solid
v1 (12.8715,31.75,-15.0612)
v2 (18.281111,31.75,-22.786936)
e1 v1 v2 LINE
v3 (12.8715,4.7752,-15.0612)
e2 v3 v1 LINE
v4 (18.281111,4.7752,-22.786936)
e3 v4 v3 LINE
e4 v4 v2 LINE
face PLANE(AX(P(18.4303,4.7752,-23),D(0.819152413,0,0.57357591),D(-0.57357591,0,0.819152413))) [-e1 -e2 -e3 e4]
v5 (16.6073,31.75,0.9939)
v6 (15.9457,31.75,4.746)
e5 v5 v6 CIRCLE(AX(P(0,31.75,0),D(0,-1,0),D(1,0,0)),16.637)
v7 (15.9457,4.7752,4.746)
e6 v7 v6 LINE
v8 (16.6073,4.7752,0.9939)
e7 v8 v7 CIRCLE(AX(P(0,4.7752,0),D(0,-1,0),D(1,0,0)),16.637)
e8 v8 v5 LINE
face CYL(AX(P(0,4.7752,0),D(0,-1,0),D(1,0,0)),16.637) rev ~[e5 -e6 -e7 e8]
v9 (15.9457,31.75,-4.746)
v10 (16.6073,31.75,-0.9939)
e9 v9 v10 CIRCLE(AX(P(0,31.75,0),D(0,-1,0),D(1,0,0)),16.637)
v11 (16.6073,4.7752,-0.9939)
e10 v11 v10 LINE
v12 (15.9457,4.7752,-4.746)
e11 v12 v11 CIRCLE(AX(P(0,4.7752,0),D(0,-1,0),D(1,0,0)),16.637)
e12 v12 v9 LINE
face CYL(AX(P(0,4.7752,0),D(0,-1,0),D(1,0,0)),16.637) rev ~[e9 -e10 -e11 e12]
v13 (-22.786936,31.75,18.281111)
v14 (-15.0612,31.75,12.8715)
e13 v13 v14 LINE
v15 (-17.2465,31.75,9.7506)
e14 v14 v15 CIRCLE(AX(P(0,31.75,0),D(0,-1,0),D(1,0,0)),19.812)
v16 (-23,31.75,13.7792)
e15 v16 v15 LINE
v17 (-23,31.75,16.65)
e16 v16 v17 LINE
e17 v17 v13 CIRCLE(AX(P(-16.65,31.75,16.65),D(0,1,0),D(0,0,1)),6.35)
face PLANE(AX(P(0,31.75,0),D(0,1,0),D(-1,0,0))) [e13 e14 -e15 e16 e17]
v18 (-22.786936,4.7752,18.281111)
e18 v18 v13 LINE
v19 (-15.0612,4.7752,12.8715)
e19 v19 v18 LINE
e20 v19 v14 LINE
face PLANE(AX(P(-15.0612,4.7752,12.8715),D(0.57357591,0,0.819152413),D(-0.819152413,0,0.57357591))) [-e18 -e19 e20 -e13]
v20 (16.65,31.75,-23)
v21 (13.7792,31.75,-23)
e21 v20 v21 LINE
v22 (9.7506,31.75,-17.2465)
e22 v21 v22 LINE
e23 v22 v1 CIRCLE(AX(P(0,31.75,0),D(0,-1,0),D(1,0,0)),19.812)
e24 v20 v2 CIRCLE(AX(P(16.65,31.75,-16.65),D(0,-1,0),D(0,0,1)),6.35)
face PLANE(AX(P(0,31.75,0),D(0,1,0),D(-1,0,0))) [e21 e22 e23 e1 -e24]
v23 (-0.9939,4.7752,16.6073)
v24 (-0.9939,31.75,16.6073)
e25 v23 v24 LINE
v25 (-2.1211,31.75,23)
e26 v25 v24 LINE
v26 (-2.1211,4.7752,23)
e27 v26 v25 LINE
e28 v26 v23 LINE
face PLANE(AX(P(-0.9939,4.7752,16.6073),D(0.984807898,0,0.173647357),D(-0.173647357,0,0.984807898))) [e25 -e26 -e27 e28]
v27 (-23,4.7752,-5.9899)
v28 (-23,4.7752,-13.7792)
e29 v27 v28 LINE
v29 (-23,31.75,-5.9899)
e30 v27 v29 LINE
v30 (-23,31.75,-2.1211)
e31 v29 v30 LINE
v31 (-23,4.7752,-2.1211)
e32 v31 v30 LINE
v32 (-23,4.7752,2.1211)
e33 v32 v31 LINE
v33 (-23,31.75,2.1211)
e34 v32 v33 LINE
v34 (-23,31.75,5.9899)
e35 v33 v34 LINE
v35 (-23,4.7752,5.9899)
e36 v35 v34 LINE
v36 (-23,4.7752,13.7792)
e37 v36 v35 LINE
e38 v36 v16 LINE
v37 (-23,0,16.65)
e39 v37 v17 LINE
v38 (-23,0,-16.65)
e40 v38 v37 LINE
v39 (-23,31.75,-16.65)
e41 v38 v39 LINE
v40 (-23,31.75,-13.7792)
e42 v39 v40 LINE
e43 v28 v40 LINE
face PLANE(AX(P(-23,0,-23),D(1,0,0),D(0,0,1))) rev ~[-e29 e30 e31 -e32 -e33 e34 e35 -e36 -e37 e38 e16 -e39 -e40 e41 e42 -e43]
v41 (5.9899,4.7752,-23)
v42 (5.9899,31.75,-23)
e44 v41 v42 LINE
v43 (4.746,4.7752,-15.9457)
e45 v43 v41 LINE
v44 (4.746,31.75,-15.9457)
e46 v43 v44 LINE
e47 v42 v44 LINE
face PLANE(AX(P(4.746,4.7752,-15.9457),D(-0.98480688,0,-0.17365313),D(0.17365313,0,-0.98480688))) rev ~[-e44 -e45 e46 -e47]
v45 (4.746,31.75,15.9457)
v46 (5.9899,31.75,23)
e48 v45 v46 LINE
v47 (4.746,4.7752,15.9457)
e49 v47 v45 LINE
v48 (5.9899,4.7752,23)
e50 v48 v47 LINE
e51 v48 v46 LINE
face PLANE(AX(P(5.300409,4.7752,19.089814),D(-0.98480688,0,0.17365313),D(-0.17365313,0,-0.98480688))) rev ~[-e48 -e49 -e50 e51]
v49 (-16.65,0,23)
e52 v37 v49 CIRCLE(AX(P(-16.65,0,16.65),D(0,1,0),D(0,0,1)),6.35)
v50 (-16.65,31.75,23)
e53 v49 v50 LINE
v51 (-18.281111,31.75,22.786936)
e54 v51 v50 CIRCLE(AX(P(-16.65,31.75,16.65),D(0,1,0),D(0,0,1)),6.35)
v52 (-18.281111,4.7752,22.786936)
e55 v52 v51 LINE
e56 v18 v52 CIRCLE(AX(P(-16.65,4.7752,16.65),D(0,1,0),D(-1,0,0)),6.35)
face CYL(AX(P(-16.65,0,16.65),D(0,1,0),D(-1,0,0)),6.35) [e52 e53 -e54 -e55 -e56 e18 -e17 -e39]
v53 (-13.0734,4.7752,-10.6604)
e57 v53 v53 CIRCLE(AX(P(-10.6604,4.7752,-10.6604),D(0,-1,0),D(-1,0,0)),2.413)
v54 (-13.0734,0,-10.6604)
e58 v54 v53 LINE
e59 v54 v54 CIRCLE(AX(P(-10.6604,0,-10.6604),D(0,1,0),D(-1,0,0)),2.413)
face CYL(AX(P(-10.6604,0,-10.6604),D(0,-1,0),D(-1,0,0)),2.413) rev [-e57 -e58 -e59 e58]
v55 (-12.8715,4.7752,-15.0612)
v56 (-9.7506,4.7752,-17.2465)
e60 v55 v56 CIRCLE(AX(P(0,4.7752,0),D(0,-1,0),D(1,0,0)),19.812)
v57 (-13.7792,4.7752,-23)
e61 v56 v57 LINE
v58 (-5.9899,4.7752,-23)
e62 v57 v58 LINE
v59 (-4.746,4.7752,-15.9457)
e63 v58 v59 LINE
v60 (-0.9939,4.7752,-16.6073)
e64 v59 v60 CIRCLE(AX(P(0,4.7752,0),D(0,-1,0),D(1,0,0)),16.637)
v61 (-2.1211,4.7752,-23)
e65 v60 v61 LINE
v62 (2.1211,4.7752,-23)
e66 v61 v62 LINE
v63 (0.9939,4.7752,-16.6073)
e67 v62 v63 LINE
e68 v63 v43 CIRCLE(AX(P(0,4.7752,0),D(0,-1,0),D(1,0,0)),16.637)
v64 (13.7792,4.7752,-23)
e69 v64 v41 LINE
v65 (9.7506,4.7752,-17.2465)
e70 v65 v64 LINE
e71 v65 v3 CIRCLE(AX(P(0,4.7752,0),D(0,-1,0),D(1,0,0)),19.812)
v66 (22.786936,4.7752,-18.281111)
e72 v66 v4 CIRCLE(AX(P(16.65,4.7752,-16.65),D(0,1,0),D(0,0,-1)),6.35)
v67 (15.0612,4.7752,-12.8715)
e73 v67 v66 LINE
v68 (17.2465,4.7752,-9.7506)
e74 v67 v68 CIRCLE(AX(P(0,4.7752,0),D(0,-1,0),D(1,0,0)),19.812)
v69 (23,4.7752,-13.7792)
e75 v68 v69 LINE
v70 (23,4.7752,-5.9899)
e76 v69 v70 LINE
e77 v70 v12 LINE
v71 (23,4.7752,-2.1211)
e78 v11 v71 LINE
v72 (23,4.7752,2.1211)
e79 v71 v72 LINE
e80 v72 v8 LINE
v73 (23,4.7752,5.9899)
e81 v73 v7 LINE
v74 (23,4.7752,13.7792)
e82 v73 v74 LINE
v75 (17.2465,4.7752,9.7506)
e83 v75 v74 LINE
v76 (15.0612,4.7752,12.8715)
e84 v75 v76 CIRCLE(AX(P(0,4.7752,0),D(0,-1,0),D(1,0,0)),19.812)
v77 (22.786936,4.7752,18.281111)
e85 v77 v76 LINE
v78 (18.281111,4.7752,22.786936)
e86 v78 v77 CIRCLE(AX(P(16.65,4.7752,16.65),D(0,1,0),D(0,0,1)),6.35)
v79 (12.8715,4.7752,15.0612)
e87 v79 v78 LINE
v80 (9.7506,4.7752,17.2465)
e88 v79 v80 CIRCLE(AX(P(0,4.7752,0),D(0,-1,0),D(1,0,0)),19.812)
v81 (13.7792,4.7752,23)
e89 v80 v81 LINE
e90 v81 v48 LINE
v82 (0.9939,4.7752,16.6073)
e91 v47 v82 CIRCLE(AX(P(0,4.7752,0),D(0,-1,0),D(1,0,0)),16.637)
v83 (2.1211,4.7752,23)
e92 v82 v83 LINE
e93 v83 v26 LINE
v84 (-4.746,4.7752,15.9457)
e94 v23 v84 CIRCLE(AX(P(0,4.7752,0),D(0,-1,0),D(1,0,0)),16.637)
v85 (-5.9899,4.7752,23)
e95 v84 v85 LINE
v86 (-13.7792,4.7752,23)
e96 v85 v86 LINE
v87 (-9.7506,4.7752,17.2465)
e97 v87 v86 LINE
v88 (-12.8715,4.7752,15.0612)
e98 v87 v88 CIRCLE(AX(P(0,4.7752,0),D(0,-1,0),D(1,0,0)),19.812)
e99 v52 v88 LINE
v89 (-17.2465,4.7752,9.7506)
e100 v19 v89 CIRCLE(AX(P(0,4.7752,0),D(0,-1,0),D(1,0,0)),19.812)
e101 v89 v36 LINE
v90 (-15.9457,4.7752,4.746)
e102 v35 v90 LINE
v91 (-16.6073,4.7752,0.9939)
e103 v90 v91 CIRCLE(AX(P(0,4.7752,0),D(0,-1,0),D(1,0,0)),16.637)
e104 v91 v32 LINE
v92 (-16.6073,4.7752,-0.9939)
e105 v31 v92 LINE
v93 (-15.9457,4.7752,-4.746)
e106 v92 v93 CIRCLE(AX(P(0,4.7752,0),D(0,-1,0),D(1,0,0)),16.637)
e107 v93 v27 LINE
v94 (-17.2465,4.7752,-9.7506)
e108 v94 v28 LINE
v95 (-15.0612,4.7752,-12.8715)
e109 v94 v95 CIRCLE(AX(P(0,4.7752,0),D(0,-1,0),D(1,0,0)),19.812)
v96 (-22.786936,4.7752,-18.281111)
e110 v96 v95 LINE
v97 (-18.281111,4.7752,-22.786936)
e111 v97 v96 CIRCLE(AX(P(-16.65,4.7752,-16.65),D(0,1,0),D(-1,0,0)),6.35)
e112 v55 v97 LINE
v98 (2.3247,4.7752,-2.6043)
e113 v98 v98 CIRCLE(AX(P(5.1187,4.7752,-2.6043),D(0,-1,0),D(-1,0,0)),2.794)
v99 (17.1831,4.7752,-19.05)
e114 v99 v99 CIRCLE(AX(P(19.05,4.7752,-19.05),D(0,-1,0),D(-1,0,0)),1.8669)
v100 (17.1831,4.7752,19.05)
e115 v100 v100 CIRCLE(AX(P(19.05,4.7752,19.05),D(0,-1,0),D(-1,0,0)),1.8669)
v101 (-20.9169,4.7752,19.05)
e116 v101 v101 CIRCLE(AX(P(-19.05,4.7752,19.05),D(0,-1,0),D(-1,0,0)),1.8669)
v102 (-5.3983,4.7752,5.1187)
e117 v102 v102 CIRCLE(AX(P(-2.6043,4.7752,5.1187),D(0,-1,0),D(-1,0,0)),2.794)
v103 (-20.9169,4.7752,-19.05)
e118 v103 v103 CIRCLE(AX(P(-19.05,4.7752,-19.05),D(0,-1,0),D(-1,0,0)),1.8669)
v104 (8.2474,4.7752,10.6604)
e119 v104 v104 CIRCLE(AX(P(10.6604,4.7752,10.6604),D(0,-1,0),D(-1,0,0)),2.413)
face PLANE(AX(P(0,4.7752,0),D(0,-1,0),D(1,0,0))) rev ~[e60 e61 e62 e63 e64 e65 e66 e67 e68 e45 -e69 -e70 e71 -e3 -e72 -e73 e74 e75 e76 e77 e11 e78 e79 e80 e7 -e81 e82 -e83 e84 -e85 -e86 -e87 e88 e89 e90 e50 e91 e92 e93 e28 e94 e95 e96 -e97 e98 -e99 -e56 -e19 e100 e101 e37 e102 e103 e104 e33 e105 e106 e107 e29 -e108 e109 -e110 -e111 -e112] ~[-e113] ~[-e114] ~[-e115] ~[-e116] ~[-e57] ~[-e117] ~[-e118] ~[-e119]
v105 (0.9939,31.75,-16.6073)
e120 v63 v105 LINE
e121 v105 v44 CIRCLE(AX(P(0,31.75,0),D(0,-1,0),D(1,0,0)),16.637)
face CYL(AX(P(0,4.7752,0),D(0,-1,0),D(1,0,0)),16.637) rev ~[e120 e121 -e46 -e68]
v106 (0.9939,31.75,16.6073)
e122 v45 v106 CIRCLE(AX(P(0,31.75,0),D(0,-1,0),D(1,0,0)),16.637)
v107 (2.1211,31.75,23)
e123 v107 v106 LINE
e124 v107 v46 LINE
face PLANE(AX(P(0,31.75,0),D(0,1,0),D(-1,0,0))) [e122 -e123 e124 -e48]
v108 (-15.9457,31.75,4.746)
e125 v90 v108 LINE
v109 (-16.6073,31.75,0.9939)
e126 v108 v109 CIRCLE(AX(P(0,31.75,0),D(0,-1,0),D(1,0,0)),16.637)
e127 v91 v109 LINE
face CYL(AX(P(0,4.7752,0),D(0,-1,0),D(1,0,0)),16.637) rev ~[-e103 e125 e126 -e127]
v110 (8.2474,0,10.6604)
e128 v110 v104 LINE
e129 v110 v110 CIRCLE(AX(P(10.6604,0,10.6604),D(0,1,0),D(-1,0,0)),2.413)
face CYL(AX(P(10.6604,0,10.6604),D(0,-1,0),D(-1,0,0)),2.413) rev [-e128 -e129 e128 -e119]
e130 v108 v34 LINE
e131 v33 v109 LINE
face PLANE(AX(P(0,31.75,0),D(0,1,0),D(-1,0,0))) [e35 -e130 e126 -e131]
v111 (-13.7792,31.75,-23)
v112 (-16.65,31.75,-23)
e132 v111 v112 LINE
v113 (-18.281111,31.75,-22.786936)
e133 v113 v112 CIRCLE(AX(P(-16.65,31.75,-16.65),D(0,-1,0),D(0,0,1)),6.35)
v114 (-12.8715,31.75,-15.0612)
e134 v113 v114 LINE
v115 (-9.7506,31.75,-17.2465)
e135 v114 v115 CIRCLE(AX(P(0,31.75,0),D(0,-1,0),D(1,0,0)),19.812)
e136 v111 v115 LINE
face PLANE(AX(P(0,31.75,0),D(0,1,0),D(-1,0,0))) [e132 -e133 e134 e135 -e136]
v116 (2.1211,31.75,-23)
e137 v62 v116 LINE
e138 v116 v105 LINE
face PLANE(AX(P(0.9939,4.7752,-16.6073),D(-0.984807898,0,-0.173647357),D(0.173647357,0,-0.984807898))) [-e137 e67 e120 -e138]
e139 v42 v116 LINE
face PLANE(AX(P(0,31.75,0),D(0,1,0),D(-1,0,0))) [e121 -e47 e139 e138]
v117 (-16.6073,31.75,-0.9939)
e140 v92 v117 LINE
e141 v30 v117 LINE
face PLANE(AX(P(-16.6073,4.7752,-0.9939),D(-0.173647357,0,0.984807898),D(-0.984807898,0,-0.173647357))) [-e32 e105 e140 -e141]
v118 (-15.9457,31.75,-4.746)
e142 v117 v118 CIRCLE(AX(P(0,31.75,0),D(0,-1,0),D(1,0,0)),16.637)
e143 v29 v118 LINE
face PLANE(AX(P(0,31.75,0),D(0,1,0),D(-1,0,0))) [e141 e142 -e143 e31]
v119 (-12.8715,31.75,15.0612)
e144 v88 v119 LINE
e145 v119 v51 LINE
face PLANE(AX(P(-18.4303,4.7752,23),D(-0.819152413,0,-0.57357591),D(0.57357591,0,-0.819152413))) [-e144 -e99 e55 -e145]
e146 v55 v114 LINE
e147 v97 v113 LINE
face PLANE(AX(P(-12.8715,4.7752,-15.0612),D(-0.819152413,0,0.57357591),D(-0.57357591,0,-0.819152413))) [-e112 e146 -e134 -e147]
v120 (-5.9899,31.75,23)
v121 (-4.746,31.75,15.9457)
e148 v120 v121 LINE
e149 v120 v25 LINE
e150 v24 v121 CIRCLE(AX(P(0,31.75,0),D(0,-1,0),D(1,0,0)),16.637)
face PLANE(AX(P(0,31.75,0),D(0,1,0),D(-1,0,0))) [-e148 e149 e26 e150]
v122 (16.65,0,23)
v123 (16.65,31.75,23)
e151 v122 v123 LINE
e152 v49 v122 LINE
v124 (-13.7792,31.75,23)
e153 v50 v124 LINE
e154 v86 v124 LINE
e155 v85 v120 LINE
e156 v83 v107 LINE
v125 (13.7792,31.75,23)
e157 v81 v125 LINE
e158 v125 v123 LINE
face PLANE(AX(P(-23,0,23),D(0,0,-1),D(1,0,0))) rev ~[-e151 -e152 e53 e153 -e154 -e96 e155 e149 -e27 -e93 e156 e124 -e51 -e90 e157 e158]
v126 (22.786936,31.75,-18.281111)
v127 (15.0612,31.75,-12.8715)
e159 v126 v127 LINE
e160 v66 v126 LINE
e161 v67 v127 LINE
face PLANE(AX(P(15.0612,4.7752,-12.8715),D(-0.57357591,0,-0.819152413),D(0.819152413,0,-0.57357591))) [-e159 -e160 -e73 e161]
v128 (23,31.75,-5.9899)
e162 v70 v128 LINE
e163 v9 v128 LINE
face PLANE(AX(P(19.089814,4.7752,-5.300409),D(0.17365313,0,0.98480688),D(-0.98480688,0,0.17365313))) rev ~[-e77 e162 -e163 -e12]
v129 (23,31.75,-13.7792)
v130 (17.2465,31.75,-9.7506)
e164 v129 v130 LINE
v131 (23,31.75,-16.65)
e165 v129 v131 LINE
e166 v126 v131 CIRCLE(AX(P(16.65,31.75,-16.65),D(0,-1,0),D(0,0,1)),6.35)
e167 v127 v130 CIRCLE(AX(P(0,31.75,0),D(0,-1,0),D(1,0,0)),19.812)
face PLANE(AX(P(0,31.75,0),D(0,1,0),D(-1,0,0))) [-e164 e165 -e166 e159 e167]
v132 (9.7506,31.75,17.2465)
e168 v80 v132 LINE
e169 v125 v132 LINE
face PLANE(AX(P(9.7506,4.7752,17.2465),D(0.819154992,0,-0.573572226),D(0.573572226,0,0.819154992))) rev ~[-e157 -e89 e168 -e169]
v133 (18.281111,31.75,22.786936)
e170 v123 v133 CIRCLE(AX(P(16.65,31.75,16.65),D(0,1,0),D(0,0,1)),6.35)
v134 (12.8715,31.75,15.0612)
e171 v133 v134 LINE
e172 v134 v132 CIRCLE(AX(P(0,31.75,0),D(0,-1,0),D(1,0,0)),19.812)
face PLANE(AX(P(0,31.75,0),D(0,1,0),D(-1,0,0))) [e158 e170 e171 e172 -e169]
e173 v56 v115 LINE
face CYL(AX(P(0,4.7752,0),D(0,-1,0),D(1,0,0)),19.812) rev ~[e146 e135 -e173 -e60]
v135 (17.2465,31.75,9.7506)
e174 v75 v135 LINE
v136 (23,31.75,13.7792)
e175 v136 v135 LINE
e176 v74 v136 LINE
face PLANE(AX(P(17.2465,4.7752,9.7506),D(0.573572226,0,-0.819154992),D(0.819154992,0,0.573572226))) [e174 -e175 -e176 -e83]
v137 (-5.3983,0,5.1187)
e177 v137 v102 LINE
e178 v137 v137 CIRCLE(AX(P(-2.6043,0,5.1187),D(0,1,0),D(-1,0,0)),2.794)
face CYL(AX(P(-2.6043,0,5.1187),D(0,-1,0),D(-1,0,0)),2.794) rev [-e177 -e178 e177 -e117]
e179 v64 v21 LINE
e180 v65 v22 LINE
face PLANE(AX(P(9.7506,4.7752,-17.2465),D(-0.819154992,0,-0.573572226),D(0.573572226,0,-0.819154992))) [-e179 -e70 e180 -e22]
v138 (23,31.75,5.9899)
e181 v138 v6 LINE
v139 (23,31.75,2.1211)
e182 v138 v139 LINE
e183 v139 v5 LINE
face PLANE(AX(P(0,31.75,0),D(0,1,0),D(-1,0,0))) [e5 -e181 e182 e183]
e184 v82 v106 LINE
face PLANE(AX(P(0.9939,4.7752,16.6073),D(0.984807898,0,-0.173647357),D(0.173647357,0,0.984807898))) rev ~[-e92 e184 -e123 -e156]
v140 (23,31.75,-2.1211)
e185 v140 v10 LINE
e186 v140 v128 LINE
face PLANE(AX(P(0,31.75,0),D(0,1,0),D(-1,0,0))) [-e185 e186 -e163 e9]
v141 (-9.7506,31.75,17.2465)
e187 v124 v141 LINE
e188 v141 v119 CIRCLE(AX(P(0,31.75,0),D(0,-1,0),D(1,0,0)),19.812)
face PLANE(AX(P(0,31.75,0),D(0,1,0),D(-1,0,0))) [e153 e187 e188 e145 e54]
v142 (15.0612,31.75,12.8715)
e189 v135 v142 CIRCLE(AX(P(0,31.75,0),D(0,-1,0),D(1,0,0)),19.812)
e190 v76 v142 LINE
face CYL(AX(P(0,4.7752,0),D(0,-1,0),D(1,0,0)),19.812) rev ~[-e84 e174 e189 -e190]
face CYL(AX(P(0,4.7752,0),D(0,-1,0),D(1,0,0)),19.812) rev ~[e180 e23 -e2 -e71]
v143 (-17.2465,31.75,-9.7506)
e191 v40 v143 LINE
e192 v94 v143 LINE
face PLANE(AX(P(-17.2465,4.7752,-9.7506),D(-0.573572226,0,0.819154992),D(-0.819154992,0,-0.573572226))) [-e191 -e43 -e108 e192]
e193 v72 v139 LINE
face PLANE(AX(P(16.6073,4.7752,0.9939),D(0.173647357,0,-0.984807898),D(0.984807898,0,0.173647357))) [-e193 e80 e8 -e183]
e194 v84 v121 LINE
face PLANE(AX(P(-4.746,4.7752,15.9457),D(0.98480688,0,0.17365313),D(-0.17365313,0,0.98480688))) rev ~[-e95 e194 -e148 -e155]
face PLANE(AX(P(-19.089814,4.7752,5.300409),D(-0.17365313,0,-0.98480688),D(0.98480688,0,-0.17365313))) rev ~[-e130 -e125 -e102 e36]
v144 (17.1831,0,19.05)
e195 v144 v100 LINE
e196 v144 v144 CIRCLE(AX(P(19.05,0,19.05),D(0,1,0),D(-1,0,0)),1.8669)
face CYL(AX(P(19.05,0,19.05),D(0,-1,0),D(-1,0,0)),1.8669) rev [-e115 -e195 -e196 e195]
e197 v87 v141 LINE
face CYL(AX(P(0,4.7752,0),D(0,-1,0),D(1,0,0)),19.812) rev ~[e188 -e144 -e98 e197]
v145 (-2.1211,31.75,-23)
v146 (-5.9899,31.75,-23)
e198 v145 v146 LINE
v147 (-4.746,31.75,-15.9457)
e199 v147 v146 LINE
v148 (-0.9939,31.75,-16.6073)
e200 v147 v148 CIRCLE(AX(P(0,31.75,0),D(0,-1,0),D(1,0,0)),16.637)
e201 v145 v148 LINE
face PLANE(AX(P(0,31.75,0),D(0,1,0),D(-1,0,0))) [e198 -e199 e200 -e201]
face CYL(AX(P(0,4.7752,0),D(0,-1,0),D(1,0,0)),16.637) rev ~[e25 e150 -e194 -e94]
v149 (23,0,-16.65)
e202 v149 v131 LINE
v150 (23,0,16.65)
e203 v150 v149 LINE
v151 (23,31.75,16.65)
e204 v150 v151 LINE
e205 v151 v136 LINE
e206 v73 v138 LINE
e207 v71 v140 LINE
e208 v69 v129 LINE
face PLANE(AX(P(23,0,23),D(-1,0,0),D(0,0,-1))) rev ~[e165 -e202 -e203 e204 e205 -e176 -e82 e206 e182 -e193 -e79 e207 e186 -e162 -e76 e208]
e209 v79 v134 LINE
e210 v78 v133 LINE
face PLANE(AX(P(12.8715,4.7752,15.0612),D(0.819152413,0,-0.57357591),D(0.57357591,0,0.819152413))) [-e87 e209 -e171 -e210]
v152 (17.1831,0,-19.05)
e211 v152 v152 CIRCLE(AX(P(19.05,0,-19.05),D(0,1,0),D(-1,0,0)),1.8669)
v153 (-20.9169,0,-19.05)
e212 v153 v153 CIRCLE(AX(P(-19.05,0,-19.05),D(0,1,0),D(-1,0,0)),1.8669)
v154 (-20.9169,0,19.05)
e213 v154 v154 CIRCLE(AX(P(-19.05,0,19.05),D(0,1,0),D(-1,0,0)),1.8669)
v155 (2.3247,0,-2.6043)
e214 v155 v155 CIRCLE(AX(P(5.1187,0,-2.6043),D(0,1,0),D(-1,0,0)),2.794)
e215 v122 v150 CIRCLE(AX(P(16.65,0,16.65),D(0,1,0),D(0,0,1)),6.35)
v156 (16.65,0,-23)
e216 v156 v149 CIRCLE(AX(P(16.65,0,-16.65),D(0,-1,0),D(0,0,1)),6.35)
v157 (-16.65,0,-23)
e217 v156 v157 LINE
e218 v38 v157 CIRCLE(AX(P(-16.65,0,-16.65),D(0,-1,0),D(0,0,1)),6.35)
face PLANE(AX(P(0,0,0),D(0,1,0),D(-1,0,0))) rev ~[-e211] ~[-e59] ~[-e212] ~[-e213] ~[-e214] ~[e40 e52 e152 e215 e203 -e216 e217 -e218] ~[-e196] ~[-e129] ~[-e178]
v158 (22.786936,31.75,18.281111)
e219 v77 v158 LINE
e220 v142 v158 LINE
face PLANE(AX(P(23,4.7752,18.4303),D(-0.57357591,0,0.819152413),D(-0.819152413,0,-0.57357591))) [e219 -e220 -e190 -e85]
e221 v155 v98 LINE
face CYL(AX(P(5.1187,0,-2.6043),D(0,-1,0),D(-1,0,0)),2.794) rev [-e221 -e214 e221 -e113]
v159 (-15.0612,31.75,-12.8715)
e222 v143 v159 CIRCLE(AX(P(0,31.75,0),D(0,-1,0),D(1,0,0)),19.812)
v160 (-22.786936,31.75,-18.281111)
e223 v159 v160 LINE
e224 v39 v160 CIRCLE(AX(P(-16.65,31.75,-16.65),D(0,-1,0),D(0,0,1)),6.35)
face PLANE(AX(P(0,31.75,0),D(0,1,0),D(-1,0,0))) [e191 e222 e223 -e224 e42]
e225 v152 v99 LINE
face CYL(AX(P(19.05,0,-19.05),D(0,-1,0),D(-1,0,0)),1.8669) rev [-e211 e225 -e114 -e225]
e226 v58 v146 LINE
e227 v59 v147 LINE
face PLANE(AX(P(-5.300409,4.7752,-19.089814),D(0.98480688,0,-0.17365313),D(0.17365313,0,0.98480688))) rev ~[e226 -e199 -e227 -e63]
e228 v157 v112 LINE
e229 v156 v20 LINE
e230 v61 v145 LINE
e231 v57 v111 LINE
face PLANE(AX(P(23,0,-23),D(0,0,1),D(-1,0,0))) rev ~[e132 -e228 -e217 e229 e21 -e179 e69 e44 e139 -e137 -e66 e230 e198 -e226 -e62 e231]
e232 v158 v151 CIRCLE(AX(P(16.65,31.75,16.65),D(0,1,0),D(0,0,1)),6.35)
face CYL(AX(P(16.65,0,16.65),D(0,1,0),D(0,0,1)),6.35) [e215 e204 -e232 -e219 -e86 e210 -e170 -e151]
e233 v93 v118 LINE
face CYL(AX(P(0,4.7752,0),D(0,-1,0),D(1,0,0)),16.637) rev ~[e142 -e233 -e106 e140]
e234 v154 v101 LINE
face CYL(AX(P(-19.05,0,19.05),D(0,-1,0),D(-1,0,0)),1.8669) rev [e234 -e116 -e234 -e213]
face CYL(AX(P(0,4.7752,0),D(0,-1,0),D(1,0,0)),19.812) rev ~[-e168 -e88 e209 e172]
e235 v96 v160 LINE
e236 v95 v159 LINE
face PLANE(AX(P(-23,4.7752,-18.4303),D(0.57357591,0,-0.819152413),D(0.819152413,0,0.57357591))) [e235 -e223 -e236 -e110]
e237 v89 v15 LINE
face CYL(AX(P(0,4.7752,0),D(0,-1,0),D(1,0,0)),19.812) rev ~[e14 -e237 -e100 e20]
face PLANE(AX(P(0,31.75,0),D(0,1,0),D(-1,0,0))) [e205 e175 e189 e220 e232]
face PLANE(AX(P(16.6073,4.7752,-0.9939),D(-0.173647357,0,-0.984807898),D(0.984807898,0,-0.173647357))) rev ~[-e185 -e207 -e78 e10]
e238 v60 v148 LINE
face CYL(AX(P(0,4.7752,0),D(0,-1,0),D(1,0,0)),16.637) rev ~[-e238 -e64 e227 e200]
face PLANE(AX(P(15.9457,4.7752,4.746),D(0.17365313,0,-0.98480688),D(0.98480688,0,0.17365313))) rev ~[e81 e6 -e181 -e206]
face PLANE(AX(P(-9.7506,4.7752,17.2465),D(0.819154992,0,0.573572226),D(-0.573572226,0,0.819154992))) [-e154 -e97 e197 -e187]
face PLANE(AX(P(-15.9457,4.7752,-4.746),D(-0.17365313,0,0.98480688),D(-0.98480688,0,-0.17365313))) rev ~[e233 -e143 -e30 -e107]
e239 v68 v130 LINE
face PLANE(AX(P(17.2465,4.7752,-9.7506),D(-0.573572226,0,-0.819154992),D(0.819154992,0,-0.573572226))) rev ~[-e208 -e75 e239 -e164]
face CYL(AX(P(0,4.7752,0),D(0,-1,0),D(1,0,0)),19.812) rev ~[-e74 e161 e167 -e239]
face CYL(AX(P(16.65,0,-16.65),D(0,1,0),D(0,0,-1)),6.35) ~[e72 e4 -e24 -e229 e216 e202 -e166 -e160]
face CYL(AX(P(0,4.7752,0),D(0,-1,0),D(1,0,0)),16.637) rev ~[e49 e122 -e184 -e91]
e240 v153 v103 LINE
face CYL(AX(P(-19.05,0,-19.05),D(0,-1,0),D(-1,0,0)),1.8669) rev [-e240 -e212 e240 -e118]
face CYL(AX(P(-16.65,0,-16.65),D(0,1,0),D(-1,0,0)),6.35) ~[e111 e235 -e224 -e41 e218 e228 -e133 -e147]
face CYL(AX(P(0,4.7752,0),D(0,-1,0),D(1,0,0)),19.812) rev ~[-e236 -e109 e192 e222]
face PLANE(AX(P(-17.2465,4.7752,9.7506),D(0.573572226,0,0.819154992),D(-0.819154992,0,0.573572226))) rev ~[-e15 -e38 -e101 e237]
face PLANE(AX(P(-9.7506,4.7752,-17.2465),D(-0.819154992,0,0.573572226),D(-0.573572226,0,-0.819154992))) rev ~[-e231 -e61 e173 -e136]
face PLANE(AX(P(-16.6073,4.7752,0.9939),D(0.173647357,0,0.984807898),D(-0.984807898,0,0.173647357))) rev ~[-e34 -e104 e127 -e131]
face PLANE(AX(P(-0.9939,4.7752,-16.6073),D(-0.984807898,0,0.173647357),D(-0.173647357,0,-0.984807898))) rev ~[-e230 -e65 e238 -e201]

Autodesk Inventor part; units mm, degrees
ref_plane "YZ Plane" through (0, 0, 0) normal (1, 0, 0) x (0, 1, 0)
ref_plane "XZ Plane" through (0, 0, 0) normal (0, 1, 0) x (-1, 0, 0)
sketch "Sketch2" plane through (0, 0, 0) normal (0, 1, 0) x (-1, 0, 0)
  line L0 (23, 23) -> (-23, 23)
  line L1 (-23, 23) -> (-23, -23)
  line L2 (-23, -23) -> (23, -23)
  line L3 (23, -23) -> (23, 23)
  line L4 (23, 23) -> (-23, -23) construction
  line L5 (-23, 23) -> (23, -23) construction
  circle A0 centre (19.05, -19.05) radius 1.8669
  line L6 (0, -32.2) -> (0, 32.2) construction
  line L7 (-32.2, 0) -> (32.2, 0) construction
  circle A1 centre (-19.05, -19.05) radius 1.8669
  circle A2 centre (19.05, 19.05) radius 1.8669
  circle A3 centre (-19.05, 19.05) radius 1.8669
  circle A4 centre (-5.1187, -2.6043) radius 2.794
  circle A5 centre (2.6043, 5.1187) radius 2.794
  circle A6 centre (10.6604, -10.6604) radius 2.413
  circle A7 centre (-10.6604, 10.6604) radius 2.413
  line L8 (2.6043, 5.1187) -> (-5.1187, -2.6043) construction
  point P0 (0, 0)
  point P1 (-1.2572, 1.2572)
  dimension "d4" = 46
  dimension "d5" = 46
  dimension "d8" = 38.1
  dimension "d11" = 38.1
  dimension "d14" = 3.7338
  dimension "d15" = 5.588
  dimension "d16" = 4.826
  dimension "d17" = 30.1521
  dimension "d18" = 15.0761
  dimension "d19" = 10.922
  dimension "d20" = 1.778
extrude "Extrusion1" add sketch "Sketch2" along normal blind 31.75 contours L3 L2 L1 L0 | A0 | A1 | A2 | A3 | A4 | A5 | A6 | A7
fillet "Fillet1" radius 6.35 4 edges at (-23, 15.875, 23) (-23, 15.875, -23) (23, 15.875, 23) (23, 15.875, -23)
ref_plane "Work Plane1" through (0, 4.7752, 0) normal (0, -1, 0) x (1, 0, 0)
sketch "Sketch3" plane through (0, 4.7752, 0) normal (0, -1, 0) x (1, 0, 0)
  circle A0 centre (0, 0) radius 19.812
  circle A1 centre (0, 0) radius 16.637
  line L0 (23, 16.65) -> (23, -16.65) construction
  line L1 (23, -5.9899) -> (15.9457, -4.746)
  line L2 (16.6073, -0.9939) -> (23, -2.1211)
  line L3 (16.6073, 0.9939) -> (23, 2.1211)
  line L4 (15.9457, 4.746) -> (23, 5.9899)
  line L5 (-36.211, 0) -> (36.9584, 0) construction
  line L6 (16.3842, -2.889) -> (23, -4.0555) construction
  line L7 (23, -2.1211) -> (23, 2.1211)
  line L8 (9.7506, -17.2465) -> (13.7792, -23)
  line L9 (16.65, -23) -> (-16.65, -23) construction
  line L10 (18.4303, -23) -> (12.8715, -15.0612)
  line L11 (15.0612, -12.8715) -> (23, -18.4303)
  line L12 (17.2465, -9.7506) -> (23, -13.7792)
  line L13 (0, 36.211) -> (0, -36.9584) construction
  line L14 (0, 0) -> (26.5056, -26.5056) construction
  line L15 (16.1048, -23) -> (11.3637, -16.229) construction
  arc A2 (18.4303, -23) -> (23, -18.4303) centre (21.1181, -21.1181) ccw
  line L16 (23, -13.7792) -> (23, -5.9899)
  line L17 (0.9939, 16.6073) -> (2.1211, 23)
  line L18 (5.9899, 23) -> (4.746, 15.9457)
  line L19 (2.1211, 23) -> (-2.1211, 23)
  line L20 (-0.9939, 16.6073) -> (-2.1211, 23)
  line L21 (-4.746, 15.9457) -> (-5.9899, 23)
  line L22 (13.7792, 23) -> (5.9899, 23)
  line L23 (9.7506, 17.2465) -> (13.7792, 23)
  line L24 (12.8715, 15.0612) -> (18.4303, 23)
  line L25 (23, 18.4303) -> (15.0612, 12.8715)
  line L26 (17.2465, 9.7506) -> (23, 13.7792)
  arc A3 (23, 18.4303) -> (18.4303, 23) centre (21.1181, 21.1181) ccw
  line L27 (-16.6073, 0.9939) -> (-23, 2.1211)
  line L28 (-23, 5.9899) -> (-15.9457, 4.746)
  line L29 (-23, 2.1211) -> (-23, -2.1211)
  line L30 (-16.6073, -0.9939) -> (-23, -2.1211)
  line L31 (-15.9457, -4.746) -> (-23, -5.9899)
  line L32 (-23, 13.7792) -> (-23, 5.9899)
  line L33 (-17.2465, 9.7506) -> (-23, 13.7792)
  line L34 (-15.0612, 12.8715) -> (-23, 18.4303)
  line L35 (-18.4303, 23) -> (-12.8715, 15.0612)
  line L36 (-9.7506, 17.2465) -> (-13.7792, 23)
  arc A4 (-18.4303, 23) -> (-23, 18.4303) centre (-21.1181, 21.1181) ccw
  line L37 (-0.9939, -16.6073) -> (-2.1211, -23)
  line L38 (-5.9899, -23) -> (-4.746, -15.9457)
  line L39 (-2.1211, -23) -> (2.1211, -23)
  line L40 (0.9939, -16.6073) -> (2.1211, -23)
  line L41 (4.746, -15.9457) -> (5.9899, -23)
  line L42 (-13.7792, -23) -> (-5.9899, -23)
  line L43 (-9.7506, -17.2465) -> (-13.7792, -23)
  line L44 (-12.8715, -15.0612) -> (-18.4303, -23)
  line L45 (-23, -18.4303) -> (-15.0612, -12.8715)
  line L46 (-17.2465, -9.7506) -> (-23, -13.7792)
  arc A5 (-23, -18.4303) -> (-18.4303, -23) centre (-21.1181, -21.1181) ccw
  line L47 (23, 5.9899) -> (23, 13.7792)
  line L48 (-5.9899, 23) -> (-13.7792, 23)
  line L49 (-23, -5.9899) -> (-23, -13.7792)
  line L50 (-23, -16.65) -> (-23, 16.65) construction
  line L51 (13.7792, -23) -> (5.9899, -23)
  point P0 (19.0898, 5.3004)
  dimension "d25" = 39.624
  dimension "d26" = 33.274
  dimension "d27" = 3.81
  dimension "d28" = 3.81
  dimension "d29" = 20
  dimension "d30" = 45
  dimension "d31" = 3.81
  dimension "d32" = 3.81
  dimension "d33" = 20
  dimension "d41" = 360
extrude "Extrusion2" cut sketch "Sketch3" against normal blind 31.75 contours A0 L4 A1 L18 | L26 L47 L4 A0 | A0 L24 A3 L25 | L3 L7 L2 A0 | A0 L2 A1 L3 | A1 | A0 L18 L22 L23 | A1 L20 A0 L17 | A0 L20 L19 L17 | L1 L16 L12 A0 | A0 L41 A1 L1 | A1 L28 A0 L21 | A0 L36 L48 L21 | L11 A2 L10 A0 | L40 A0 L37 A1 | A0 L8 L51 L41 | A1 L30 A0 L27 | L28 L32 L33 A0 | A0 L34 A4 L35 | L40 L39 L37 A0 | A0 L30 L29 L27 | L38 A0 L31 A1 | L38 L42 L43 A0 | A0 L46 L49 L31 | L44 A5 L45 A0
extrude "Extrusion3" cut sketch "Sketch2" along normal through all contours A0 | A1 | A2 | A3 | A4 | A5 | A6 | A7
equation "\"d18\" = 0.5 * d17"
equation "\"d28\" = d27"
equation "\"d31\" = d27"
equation "\"d32\" = d27"
properties part number "680-125K" material "Aluminum-5052"
